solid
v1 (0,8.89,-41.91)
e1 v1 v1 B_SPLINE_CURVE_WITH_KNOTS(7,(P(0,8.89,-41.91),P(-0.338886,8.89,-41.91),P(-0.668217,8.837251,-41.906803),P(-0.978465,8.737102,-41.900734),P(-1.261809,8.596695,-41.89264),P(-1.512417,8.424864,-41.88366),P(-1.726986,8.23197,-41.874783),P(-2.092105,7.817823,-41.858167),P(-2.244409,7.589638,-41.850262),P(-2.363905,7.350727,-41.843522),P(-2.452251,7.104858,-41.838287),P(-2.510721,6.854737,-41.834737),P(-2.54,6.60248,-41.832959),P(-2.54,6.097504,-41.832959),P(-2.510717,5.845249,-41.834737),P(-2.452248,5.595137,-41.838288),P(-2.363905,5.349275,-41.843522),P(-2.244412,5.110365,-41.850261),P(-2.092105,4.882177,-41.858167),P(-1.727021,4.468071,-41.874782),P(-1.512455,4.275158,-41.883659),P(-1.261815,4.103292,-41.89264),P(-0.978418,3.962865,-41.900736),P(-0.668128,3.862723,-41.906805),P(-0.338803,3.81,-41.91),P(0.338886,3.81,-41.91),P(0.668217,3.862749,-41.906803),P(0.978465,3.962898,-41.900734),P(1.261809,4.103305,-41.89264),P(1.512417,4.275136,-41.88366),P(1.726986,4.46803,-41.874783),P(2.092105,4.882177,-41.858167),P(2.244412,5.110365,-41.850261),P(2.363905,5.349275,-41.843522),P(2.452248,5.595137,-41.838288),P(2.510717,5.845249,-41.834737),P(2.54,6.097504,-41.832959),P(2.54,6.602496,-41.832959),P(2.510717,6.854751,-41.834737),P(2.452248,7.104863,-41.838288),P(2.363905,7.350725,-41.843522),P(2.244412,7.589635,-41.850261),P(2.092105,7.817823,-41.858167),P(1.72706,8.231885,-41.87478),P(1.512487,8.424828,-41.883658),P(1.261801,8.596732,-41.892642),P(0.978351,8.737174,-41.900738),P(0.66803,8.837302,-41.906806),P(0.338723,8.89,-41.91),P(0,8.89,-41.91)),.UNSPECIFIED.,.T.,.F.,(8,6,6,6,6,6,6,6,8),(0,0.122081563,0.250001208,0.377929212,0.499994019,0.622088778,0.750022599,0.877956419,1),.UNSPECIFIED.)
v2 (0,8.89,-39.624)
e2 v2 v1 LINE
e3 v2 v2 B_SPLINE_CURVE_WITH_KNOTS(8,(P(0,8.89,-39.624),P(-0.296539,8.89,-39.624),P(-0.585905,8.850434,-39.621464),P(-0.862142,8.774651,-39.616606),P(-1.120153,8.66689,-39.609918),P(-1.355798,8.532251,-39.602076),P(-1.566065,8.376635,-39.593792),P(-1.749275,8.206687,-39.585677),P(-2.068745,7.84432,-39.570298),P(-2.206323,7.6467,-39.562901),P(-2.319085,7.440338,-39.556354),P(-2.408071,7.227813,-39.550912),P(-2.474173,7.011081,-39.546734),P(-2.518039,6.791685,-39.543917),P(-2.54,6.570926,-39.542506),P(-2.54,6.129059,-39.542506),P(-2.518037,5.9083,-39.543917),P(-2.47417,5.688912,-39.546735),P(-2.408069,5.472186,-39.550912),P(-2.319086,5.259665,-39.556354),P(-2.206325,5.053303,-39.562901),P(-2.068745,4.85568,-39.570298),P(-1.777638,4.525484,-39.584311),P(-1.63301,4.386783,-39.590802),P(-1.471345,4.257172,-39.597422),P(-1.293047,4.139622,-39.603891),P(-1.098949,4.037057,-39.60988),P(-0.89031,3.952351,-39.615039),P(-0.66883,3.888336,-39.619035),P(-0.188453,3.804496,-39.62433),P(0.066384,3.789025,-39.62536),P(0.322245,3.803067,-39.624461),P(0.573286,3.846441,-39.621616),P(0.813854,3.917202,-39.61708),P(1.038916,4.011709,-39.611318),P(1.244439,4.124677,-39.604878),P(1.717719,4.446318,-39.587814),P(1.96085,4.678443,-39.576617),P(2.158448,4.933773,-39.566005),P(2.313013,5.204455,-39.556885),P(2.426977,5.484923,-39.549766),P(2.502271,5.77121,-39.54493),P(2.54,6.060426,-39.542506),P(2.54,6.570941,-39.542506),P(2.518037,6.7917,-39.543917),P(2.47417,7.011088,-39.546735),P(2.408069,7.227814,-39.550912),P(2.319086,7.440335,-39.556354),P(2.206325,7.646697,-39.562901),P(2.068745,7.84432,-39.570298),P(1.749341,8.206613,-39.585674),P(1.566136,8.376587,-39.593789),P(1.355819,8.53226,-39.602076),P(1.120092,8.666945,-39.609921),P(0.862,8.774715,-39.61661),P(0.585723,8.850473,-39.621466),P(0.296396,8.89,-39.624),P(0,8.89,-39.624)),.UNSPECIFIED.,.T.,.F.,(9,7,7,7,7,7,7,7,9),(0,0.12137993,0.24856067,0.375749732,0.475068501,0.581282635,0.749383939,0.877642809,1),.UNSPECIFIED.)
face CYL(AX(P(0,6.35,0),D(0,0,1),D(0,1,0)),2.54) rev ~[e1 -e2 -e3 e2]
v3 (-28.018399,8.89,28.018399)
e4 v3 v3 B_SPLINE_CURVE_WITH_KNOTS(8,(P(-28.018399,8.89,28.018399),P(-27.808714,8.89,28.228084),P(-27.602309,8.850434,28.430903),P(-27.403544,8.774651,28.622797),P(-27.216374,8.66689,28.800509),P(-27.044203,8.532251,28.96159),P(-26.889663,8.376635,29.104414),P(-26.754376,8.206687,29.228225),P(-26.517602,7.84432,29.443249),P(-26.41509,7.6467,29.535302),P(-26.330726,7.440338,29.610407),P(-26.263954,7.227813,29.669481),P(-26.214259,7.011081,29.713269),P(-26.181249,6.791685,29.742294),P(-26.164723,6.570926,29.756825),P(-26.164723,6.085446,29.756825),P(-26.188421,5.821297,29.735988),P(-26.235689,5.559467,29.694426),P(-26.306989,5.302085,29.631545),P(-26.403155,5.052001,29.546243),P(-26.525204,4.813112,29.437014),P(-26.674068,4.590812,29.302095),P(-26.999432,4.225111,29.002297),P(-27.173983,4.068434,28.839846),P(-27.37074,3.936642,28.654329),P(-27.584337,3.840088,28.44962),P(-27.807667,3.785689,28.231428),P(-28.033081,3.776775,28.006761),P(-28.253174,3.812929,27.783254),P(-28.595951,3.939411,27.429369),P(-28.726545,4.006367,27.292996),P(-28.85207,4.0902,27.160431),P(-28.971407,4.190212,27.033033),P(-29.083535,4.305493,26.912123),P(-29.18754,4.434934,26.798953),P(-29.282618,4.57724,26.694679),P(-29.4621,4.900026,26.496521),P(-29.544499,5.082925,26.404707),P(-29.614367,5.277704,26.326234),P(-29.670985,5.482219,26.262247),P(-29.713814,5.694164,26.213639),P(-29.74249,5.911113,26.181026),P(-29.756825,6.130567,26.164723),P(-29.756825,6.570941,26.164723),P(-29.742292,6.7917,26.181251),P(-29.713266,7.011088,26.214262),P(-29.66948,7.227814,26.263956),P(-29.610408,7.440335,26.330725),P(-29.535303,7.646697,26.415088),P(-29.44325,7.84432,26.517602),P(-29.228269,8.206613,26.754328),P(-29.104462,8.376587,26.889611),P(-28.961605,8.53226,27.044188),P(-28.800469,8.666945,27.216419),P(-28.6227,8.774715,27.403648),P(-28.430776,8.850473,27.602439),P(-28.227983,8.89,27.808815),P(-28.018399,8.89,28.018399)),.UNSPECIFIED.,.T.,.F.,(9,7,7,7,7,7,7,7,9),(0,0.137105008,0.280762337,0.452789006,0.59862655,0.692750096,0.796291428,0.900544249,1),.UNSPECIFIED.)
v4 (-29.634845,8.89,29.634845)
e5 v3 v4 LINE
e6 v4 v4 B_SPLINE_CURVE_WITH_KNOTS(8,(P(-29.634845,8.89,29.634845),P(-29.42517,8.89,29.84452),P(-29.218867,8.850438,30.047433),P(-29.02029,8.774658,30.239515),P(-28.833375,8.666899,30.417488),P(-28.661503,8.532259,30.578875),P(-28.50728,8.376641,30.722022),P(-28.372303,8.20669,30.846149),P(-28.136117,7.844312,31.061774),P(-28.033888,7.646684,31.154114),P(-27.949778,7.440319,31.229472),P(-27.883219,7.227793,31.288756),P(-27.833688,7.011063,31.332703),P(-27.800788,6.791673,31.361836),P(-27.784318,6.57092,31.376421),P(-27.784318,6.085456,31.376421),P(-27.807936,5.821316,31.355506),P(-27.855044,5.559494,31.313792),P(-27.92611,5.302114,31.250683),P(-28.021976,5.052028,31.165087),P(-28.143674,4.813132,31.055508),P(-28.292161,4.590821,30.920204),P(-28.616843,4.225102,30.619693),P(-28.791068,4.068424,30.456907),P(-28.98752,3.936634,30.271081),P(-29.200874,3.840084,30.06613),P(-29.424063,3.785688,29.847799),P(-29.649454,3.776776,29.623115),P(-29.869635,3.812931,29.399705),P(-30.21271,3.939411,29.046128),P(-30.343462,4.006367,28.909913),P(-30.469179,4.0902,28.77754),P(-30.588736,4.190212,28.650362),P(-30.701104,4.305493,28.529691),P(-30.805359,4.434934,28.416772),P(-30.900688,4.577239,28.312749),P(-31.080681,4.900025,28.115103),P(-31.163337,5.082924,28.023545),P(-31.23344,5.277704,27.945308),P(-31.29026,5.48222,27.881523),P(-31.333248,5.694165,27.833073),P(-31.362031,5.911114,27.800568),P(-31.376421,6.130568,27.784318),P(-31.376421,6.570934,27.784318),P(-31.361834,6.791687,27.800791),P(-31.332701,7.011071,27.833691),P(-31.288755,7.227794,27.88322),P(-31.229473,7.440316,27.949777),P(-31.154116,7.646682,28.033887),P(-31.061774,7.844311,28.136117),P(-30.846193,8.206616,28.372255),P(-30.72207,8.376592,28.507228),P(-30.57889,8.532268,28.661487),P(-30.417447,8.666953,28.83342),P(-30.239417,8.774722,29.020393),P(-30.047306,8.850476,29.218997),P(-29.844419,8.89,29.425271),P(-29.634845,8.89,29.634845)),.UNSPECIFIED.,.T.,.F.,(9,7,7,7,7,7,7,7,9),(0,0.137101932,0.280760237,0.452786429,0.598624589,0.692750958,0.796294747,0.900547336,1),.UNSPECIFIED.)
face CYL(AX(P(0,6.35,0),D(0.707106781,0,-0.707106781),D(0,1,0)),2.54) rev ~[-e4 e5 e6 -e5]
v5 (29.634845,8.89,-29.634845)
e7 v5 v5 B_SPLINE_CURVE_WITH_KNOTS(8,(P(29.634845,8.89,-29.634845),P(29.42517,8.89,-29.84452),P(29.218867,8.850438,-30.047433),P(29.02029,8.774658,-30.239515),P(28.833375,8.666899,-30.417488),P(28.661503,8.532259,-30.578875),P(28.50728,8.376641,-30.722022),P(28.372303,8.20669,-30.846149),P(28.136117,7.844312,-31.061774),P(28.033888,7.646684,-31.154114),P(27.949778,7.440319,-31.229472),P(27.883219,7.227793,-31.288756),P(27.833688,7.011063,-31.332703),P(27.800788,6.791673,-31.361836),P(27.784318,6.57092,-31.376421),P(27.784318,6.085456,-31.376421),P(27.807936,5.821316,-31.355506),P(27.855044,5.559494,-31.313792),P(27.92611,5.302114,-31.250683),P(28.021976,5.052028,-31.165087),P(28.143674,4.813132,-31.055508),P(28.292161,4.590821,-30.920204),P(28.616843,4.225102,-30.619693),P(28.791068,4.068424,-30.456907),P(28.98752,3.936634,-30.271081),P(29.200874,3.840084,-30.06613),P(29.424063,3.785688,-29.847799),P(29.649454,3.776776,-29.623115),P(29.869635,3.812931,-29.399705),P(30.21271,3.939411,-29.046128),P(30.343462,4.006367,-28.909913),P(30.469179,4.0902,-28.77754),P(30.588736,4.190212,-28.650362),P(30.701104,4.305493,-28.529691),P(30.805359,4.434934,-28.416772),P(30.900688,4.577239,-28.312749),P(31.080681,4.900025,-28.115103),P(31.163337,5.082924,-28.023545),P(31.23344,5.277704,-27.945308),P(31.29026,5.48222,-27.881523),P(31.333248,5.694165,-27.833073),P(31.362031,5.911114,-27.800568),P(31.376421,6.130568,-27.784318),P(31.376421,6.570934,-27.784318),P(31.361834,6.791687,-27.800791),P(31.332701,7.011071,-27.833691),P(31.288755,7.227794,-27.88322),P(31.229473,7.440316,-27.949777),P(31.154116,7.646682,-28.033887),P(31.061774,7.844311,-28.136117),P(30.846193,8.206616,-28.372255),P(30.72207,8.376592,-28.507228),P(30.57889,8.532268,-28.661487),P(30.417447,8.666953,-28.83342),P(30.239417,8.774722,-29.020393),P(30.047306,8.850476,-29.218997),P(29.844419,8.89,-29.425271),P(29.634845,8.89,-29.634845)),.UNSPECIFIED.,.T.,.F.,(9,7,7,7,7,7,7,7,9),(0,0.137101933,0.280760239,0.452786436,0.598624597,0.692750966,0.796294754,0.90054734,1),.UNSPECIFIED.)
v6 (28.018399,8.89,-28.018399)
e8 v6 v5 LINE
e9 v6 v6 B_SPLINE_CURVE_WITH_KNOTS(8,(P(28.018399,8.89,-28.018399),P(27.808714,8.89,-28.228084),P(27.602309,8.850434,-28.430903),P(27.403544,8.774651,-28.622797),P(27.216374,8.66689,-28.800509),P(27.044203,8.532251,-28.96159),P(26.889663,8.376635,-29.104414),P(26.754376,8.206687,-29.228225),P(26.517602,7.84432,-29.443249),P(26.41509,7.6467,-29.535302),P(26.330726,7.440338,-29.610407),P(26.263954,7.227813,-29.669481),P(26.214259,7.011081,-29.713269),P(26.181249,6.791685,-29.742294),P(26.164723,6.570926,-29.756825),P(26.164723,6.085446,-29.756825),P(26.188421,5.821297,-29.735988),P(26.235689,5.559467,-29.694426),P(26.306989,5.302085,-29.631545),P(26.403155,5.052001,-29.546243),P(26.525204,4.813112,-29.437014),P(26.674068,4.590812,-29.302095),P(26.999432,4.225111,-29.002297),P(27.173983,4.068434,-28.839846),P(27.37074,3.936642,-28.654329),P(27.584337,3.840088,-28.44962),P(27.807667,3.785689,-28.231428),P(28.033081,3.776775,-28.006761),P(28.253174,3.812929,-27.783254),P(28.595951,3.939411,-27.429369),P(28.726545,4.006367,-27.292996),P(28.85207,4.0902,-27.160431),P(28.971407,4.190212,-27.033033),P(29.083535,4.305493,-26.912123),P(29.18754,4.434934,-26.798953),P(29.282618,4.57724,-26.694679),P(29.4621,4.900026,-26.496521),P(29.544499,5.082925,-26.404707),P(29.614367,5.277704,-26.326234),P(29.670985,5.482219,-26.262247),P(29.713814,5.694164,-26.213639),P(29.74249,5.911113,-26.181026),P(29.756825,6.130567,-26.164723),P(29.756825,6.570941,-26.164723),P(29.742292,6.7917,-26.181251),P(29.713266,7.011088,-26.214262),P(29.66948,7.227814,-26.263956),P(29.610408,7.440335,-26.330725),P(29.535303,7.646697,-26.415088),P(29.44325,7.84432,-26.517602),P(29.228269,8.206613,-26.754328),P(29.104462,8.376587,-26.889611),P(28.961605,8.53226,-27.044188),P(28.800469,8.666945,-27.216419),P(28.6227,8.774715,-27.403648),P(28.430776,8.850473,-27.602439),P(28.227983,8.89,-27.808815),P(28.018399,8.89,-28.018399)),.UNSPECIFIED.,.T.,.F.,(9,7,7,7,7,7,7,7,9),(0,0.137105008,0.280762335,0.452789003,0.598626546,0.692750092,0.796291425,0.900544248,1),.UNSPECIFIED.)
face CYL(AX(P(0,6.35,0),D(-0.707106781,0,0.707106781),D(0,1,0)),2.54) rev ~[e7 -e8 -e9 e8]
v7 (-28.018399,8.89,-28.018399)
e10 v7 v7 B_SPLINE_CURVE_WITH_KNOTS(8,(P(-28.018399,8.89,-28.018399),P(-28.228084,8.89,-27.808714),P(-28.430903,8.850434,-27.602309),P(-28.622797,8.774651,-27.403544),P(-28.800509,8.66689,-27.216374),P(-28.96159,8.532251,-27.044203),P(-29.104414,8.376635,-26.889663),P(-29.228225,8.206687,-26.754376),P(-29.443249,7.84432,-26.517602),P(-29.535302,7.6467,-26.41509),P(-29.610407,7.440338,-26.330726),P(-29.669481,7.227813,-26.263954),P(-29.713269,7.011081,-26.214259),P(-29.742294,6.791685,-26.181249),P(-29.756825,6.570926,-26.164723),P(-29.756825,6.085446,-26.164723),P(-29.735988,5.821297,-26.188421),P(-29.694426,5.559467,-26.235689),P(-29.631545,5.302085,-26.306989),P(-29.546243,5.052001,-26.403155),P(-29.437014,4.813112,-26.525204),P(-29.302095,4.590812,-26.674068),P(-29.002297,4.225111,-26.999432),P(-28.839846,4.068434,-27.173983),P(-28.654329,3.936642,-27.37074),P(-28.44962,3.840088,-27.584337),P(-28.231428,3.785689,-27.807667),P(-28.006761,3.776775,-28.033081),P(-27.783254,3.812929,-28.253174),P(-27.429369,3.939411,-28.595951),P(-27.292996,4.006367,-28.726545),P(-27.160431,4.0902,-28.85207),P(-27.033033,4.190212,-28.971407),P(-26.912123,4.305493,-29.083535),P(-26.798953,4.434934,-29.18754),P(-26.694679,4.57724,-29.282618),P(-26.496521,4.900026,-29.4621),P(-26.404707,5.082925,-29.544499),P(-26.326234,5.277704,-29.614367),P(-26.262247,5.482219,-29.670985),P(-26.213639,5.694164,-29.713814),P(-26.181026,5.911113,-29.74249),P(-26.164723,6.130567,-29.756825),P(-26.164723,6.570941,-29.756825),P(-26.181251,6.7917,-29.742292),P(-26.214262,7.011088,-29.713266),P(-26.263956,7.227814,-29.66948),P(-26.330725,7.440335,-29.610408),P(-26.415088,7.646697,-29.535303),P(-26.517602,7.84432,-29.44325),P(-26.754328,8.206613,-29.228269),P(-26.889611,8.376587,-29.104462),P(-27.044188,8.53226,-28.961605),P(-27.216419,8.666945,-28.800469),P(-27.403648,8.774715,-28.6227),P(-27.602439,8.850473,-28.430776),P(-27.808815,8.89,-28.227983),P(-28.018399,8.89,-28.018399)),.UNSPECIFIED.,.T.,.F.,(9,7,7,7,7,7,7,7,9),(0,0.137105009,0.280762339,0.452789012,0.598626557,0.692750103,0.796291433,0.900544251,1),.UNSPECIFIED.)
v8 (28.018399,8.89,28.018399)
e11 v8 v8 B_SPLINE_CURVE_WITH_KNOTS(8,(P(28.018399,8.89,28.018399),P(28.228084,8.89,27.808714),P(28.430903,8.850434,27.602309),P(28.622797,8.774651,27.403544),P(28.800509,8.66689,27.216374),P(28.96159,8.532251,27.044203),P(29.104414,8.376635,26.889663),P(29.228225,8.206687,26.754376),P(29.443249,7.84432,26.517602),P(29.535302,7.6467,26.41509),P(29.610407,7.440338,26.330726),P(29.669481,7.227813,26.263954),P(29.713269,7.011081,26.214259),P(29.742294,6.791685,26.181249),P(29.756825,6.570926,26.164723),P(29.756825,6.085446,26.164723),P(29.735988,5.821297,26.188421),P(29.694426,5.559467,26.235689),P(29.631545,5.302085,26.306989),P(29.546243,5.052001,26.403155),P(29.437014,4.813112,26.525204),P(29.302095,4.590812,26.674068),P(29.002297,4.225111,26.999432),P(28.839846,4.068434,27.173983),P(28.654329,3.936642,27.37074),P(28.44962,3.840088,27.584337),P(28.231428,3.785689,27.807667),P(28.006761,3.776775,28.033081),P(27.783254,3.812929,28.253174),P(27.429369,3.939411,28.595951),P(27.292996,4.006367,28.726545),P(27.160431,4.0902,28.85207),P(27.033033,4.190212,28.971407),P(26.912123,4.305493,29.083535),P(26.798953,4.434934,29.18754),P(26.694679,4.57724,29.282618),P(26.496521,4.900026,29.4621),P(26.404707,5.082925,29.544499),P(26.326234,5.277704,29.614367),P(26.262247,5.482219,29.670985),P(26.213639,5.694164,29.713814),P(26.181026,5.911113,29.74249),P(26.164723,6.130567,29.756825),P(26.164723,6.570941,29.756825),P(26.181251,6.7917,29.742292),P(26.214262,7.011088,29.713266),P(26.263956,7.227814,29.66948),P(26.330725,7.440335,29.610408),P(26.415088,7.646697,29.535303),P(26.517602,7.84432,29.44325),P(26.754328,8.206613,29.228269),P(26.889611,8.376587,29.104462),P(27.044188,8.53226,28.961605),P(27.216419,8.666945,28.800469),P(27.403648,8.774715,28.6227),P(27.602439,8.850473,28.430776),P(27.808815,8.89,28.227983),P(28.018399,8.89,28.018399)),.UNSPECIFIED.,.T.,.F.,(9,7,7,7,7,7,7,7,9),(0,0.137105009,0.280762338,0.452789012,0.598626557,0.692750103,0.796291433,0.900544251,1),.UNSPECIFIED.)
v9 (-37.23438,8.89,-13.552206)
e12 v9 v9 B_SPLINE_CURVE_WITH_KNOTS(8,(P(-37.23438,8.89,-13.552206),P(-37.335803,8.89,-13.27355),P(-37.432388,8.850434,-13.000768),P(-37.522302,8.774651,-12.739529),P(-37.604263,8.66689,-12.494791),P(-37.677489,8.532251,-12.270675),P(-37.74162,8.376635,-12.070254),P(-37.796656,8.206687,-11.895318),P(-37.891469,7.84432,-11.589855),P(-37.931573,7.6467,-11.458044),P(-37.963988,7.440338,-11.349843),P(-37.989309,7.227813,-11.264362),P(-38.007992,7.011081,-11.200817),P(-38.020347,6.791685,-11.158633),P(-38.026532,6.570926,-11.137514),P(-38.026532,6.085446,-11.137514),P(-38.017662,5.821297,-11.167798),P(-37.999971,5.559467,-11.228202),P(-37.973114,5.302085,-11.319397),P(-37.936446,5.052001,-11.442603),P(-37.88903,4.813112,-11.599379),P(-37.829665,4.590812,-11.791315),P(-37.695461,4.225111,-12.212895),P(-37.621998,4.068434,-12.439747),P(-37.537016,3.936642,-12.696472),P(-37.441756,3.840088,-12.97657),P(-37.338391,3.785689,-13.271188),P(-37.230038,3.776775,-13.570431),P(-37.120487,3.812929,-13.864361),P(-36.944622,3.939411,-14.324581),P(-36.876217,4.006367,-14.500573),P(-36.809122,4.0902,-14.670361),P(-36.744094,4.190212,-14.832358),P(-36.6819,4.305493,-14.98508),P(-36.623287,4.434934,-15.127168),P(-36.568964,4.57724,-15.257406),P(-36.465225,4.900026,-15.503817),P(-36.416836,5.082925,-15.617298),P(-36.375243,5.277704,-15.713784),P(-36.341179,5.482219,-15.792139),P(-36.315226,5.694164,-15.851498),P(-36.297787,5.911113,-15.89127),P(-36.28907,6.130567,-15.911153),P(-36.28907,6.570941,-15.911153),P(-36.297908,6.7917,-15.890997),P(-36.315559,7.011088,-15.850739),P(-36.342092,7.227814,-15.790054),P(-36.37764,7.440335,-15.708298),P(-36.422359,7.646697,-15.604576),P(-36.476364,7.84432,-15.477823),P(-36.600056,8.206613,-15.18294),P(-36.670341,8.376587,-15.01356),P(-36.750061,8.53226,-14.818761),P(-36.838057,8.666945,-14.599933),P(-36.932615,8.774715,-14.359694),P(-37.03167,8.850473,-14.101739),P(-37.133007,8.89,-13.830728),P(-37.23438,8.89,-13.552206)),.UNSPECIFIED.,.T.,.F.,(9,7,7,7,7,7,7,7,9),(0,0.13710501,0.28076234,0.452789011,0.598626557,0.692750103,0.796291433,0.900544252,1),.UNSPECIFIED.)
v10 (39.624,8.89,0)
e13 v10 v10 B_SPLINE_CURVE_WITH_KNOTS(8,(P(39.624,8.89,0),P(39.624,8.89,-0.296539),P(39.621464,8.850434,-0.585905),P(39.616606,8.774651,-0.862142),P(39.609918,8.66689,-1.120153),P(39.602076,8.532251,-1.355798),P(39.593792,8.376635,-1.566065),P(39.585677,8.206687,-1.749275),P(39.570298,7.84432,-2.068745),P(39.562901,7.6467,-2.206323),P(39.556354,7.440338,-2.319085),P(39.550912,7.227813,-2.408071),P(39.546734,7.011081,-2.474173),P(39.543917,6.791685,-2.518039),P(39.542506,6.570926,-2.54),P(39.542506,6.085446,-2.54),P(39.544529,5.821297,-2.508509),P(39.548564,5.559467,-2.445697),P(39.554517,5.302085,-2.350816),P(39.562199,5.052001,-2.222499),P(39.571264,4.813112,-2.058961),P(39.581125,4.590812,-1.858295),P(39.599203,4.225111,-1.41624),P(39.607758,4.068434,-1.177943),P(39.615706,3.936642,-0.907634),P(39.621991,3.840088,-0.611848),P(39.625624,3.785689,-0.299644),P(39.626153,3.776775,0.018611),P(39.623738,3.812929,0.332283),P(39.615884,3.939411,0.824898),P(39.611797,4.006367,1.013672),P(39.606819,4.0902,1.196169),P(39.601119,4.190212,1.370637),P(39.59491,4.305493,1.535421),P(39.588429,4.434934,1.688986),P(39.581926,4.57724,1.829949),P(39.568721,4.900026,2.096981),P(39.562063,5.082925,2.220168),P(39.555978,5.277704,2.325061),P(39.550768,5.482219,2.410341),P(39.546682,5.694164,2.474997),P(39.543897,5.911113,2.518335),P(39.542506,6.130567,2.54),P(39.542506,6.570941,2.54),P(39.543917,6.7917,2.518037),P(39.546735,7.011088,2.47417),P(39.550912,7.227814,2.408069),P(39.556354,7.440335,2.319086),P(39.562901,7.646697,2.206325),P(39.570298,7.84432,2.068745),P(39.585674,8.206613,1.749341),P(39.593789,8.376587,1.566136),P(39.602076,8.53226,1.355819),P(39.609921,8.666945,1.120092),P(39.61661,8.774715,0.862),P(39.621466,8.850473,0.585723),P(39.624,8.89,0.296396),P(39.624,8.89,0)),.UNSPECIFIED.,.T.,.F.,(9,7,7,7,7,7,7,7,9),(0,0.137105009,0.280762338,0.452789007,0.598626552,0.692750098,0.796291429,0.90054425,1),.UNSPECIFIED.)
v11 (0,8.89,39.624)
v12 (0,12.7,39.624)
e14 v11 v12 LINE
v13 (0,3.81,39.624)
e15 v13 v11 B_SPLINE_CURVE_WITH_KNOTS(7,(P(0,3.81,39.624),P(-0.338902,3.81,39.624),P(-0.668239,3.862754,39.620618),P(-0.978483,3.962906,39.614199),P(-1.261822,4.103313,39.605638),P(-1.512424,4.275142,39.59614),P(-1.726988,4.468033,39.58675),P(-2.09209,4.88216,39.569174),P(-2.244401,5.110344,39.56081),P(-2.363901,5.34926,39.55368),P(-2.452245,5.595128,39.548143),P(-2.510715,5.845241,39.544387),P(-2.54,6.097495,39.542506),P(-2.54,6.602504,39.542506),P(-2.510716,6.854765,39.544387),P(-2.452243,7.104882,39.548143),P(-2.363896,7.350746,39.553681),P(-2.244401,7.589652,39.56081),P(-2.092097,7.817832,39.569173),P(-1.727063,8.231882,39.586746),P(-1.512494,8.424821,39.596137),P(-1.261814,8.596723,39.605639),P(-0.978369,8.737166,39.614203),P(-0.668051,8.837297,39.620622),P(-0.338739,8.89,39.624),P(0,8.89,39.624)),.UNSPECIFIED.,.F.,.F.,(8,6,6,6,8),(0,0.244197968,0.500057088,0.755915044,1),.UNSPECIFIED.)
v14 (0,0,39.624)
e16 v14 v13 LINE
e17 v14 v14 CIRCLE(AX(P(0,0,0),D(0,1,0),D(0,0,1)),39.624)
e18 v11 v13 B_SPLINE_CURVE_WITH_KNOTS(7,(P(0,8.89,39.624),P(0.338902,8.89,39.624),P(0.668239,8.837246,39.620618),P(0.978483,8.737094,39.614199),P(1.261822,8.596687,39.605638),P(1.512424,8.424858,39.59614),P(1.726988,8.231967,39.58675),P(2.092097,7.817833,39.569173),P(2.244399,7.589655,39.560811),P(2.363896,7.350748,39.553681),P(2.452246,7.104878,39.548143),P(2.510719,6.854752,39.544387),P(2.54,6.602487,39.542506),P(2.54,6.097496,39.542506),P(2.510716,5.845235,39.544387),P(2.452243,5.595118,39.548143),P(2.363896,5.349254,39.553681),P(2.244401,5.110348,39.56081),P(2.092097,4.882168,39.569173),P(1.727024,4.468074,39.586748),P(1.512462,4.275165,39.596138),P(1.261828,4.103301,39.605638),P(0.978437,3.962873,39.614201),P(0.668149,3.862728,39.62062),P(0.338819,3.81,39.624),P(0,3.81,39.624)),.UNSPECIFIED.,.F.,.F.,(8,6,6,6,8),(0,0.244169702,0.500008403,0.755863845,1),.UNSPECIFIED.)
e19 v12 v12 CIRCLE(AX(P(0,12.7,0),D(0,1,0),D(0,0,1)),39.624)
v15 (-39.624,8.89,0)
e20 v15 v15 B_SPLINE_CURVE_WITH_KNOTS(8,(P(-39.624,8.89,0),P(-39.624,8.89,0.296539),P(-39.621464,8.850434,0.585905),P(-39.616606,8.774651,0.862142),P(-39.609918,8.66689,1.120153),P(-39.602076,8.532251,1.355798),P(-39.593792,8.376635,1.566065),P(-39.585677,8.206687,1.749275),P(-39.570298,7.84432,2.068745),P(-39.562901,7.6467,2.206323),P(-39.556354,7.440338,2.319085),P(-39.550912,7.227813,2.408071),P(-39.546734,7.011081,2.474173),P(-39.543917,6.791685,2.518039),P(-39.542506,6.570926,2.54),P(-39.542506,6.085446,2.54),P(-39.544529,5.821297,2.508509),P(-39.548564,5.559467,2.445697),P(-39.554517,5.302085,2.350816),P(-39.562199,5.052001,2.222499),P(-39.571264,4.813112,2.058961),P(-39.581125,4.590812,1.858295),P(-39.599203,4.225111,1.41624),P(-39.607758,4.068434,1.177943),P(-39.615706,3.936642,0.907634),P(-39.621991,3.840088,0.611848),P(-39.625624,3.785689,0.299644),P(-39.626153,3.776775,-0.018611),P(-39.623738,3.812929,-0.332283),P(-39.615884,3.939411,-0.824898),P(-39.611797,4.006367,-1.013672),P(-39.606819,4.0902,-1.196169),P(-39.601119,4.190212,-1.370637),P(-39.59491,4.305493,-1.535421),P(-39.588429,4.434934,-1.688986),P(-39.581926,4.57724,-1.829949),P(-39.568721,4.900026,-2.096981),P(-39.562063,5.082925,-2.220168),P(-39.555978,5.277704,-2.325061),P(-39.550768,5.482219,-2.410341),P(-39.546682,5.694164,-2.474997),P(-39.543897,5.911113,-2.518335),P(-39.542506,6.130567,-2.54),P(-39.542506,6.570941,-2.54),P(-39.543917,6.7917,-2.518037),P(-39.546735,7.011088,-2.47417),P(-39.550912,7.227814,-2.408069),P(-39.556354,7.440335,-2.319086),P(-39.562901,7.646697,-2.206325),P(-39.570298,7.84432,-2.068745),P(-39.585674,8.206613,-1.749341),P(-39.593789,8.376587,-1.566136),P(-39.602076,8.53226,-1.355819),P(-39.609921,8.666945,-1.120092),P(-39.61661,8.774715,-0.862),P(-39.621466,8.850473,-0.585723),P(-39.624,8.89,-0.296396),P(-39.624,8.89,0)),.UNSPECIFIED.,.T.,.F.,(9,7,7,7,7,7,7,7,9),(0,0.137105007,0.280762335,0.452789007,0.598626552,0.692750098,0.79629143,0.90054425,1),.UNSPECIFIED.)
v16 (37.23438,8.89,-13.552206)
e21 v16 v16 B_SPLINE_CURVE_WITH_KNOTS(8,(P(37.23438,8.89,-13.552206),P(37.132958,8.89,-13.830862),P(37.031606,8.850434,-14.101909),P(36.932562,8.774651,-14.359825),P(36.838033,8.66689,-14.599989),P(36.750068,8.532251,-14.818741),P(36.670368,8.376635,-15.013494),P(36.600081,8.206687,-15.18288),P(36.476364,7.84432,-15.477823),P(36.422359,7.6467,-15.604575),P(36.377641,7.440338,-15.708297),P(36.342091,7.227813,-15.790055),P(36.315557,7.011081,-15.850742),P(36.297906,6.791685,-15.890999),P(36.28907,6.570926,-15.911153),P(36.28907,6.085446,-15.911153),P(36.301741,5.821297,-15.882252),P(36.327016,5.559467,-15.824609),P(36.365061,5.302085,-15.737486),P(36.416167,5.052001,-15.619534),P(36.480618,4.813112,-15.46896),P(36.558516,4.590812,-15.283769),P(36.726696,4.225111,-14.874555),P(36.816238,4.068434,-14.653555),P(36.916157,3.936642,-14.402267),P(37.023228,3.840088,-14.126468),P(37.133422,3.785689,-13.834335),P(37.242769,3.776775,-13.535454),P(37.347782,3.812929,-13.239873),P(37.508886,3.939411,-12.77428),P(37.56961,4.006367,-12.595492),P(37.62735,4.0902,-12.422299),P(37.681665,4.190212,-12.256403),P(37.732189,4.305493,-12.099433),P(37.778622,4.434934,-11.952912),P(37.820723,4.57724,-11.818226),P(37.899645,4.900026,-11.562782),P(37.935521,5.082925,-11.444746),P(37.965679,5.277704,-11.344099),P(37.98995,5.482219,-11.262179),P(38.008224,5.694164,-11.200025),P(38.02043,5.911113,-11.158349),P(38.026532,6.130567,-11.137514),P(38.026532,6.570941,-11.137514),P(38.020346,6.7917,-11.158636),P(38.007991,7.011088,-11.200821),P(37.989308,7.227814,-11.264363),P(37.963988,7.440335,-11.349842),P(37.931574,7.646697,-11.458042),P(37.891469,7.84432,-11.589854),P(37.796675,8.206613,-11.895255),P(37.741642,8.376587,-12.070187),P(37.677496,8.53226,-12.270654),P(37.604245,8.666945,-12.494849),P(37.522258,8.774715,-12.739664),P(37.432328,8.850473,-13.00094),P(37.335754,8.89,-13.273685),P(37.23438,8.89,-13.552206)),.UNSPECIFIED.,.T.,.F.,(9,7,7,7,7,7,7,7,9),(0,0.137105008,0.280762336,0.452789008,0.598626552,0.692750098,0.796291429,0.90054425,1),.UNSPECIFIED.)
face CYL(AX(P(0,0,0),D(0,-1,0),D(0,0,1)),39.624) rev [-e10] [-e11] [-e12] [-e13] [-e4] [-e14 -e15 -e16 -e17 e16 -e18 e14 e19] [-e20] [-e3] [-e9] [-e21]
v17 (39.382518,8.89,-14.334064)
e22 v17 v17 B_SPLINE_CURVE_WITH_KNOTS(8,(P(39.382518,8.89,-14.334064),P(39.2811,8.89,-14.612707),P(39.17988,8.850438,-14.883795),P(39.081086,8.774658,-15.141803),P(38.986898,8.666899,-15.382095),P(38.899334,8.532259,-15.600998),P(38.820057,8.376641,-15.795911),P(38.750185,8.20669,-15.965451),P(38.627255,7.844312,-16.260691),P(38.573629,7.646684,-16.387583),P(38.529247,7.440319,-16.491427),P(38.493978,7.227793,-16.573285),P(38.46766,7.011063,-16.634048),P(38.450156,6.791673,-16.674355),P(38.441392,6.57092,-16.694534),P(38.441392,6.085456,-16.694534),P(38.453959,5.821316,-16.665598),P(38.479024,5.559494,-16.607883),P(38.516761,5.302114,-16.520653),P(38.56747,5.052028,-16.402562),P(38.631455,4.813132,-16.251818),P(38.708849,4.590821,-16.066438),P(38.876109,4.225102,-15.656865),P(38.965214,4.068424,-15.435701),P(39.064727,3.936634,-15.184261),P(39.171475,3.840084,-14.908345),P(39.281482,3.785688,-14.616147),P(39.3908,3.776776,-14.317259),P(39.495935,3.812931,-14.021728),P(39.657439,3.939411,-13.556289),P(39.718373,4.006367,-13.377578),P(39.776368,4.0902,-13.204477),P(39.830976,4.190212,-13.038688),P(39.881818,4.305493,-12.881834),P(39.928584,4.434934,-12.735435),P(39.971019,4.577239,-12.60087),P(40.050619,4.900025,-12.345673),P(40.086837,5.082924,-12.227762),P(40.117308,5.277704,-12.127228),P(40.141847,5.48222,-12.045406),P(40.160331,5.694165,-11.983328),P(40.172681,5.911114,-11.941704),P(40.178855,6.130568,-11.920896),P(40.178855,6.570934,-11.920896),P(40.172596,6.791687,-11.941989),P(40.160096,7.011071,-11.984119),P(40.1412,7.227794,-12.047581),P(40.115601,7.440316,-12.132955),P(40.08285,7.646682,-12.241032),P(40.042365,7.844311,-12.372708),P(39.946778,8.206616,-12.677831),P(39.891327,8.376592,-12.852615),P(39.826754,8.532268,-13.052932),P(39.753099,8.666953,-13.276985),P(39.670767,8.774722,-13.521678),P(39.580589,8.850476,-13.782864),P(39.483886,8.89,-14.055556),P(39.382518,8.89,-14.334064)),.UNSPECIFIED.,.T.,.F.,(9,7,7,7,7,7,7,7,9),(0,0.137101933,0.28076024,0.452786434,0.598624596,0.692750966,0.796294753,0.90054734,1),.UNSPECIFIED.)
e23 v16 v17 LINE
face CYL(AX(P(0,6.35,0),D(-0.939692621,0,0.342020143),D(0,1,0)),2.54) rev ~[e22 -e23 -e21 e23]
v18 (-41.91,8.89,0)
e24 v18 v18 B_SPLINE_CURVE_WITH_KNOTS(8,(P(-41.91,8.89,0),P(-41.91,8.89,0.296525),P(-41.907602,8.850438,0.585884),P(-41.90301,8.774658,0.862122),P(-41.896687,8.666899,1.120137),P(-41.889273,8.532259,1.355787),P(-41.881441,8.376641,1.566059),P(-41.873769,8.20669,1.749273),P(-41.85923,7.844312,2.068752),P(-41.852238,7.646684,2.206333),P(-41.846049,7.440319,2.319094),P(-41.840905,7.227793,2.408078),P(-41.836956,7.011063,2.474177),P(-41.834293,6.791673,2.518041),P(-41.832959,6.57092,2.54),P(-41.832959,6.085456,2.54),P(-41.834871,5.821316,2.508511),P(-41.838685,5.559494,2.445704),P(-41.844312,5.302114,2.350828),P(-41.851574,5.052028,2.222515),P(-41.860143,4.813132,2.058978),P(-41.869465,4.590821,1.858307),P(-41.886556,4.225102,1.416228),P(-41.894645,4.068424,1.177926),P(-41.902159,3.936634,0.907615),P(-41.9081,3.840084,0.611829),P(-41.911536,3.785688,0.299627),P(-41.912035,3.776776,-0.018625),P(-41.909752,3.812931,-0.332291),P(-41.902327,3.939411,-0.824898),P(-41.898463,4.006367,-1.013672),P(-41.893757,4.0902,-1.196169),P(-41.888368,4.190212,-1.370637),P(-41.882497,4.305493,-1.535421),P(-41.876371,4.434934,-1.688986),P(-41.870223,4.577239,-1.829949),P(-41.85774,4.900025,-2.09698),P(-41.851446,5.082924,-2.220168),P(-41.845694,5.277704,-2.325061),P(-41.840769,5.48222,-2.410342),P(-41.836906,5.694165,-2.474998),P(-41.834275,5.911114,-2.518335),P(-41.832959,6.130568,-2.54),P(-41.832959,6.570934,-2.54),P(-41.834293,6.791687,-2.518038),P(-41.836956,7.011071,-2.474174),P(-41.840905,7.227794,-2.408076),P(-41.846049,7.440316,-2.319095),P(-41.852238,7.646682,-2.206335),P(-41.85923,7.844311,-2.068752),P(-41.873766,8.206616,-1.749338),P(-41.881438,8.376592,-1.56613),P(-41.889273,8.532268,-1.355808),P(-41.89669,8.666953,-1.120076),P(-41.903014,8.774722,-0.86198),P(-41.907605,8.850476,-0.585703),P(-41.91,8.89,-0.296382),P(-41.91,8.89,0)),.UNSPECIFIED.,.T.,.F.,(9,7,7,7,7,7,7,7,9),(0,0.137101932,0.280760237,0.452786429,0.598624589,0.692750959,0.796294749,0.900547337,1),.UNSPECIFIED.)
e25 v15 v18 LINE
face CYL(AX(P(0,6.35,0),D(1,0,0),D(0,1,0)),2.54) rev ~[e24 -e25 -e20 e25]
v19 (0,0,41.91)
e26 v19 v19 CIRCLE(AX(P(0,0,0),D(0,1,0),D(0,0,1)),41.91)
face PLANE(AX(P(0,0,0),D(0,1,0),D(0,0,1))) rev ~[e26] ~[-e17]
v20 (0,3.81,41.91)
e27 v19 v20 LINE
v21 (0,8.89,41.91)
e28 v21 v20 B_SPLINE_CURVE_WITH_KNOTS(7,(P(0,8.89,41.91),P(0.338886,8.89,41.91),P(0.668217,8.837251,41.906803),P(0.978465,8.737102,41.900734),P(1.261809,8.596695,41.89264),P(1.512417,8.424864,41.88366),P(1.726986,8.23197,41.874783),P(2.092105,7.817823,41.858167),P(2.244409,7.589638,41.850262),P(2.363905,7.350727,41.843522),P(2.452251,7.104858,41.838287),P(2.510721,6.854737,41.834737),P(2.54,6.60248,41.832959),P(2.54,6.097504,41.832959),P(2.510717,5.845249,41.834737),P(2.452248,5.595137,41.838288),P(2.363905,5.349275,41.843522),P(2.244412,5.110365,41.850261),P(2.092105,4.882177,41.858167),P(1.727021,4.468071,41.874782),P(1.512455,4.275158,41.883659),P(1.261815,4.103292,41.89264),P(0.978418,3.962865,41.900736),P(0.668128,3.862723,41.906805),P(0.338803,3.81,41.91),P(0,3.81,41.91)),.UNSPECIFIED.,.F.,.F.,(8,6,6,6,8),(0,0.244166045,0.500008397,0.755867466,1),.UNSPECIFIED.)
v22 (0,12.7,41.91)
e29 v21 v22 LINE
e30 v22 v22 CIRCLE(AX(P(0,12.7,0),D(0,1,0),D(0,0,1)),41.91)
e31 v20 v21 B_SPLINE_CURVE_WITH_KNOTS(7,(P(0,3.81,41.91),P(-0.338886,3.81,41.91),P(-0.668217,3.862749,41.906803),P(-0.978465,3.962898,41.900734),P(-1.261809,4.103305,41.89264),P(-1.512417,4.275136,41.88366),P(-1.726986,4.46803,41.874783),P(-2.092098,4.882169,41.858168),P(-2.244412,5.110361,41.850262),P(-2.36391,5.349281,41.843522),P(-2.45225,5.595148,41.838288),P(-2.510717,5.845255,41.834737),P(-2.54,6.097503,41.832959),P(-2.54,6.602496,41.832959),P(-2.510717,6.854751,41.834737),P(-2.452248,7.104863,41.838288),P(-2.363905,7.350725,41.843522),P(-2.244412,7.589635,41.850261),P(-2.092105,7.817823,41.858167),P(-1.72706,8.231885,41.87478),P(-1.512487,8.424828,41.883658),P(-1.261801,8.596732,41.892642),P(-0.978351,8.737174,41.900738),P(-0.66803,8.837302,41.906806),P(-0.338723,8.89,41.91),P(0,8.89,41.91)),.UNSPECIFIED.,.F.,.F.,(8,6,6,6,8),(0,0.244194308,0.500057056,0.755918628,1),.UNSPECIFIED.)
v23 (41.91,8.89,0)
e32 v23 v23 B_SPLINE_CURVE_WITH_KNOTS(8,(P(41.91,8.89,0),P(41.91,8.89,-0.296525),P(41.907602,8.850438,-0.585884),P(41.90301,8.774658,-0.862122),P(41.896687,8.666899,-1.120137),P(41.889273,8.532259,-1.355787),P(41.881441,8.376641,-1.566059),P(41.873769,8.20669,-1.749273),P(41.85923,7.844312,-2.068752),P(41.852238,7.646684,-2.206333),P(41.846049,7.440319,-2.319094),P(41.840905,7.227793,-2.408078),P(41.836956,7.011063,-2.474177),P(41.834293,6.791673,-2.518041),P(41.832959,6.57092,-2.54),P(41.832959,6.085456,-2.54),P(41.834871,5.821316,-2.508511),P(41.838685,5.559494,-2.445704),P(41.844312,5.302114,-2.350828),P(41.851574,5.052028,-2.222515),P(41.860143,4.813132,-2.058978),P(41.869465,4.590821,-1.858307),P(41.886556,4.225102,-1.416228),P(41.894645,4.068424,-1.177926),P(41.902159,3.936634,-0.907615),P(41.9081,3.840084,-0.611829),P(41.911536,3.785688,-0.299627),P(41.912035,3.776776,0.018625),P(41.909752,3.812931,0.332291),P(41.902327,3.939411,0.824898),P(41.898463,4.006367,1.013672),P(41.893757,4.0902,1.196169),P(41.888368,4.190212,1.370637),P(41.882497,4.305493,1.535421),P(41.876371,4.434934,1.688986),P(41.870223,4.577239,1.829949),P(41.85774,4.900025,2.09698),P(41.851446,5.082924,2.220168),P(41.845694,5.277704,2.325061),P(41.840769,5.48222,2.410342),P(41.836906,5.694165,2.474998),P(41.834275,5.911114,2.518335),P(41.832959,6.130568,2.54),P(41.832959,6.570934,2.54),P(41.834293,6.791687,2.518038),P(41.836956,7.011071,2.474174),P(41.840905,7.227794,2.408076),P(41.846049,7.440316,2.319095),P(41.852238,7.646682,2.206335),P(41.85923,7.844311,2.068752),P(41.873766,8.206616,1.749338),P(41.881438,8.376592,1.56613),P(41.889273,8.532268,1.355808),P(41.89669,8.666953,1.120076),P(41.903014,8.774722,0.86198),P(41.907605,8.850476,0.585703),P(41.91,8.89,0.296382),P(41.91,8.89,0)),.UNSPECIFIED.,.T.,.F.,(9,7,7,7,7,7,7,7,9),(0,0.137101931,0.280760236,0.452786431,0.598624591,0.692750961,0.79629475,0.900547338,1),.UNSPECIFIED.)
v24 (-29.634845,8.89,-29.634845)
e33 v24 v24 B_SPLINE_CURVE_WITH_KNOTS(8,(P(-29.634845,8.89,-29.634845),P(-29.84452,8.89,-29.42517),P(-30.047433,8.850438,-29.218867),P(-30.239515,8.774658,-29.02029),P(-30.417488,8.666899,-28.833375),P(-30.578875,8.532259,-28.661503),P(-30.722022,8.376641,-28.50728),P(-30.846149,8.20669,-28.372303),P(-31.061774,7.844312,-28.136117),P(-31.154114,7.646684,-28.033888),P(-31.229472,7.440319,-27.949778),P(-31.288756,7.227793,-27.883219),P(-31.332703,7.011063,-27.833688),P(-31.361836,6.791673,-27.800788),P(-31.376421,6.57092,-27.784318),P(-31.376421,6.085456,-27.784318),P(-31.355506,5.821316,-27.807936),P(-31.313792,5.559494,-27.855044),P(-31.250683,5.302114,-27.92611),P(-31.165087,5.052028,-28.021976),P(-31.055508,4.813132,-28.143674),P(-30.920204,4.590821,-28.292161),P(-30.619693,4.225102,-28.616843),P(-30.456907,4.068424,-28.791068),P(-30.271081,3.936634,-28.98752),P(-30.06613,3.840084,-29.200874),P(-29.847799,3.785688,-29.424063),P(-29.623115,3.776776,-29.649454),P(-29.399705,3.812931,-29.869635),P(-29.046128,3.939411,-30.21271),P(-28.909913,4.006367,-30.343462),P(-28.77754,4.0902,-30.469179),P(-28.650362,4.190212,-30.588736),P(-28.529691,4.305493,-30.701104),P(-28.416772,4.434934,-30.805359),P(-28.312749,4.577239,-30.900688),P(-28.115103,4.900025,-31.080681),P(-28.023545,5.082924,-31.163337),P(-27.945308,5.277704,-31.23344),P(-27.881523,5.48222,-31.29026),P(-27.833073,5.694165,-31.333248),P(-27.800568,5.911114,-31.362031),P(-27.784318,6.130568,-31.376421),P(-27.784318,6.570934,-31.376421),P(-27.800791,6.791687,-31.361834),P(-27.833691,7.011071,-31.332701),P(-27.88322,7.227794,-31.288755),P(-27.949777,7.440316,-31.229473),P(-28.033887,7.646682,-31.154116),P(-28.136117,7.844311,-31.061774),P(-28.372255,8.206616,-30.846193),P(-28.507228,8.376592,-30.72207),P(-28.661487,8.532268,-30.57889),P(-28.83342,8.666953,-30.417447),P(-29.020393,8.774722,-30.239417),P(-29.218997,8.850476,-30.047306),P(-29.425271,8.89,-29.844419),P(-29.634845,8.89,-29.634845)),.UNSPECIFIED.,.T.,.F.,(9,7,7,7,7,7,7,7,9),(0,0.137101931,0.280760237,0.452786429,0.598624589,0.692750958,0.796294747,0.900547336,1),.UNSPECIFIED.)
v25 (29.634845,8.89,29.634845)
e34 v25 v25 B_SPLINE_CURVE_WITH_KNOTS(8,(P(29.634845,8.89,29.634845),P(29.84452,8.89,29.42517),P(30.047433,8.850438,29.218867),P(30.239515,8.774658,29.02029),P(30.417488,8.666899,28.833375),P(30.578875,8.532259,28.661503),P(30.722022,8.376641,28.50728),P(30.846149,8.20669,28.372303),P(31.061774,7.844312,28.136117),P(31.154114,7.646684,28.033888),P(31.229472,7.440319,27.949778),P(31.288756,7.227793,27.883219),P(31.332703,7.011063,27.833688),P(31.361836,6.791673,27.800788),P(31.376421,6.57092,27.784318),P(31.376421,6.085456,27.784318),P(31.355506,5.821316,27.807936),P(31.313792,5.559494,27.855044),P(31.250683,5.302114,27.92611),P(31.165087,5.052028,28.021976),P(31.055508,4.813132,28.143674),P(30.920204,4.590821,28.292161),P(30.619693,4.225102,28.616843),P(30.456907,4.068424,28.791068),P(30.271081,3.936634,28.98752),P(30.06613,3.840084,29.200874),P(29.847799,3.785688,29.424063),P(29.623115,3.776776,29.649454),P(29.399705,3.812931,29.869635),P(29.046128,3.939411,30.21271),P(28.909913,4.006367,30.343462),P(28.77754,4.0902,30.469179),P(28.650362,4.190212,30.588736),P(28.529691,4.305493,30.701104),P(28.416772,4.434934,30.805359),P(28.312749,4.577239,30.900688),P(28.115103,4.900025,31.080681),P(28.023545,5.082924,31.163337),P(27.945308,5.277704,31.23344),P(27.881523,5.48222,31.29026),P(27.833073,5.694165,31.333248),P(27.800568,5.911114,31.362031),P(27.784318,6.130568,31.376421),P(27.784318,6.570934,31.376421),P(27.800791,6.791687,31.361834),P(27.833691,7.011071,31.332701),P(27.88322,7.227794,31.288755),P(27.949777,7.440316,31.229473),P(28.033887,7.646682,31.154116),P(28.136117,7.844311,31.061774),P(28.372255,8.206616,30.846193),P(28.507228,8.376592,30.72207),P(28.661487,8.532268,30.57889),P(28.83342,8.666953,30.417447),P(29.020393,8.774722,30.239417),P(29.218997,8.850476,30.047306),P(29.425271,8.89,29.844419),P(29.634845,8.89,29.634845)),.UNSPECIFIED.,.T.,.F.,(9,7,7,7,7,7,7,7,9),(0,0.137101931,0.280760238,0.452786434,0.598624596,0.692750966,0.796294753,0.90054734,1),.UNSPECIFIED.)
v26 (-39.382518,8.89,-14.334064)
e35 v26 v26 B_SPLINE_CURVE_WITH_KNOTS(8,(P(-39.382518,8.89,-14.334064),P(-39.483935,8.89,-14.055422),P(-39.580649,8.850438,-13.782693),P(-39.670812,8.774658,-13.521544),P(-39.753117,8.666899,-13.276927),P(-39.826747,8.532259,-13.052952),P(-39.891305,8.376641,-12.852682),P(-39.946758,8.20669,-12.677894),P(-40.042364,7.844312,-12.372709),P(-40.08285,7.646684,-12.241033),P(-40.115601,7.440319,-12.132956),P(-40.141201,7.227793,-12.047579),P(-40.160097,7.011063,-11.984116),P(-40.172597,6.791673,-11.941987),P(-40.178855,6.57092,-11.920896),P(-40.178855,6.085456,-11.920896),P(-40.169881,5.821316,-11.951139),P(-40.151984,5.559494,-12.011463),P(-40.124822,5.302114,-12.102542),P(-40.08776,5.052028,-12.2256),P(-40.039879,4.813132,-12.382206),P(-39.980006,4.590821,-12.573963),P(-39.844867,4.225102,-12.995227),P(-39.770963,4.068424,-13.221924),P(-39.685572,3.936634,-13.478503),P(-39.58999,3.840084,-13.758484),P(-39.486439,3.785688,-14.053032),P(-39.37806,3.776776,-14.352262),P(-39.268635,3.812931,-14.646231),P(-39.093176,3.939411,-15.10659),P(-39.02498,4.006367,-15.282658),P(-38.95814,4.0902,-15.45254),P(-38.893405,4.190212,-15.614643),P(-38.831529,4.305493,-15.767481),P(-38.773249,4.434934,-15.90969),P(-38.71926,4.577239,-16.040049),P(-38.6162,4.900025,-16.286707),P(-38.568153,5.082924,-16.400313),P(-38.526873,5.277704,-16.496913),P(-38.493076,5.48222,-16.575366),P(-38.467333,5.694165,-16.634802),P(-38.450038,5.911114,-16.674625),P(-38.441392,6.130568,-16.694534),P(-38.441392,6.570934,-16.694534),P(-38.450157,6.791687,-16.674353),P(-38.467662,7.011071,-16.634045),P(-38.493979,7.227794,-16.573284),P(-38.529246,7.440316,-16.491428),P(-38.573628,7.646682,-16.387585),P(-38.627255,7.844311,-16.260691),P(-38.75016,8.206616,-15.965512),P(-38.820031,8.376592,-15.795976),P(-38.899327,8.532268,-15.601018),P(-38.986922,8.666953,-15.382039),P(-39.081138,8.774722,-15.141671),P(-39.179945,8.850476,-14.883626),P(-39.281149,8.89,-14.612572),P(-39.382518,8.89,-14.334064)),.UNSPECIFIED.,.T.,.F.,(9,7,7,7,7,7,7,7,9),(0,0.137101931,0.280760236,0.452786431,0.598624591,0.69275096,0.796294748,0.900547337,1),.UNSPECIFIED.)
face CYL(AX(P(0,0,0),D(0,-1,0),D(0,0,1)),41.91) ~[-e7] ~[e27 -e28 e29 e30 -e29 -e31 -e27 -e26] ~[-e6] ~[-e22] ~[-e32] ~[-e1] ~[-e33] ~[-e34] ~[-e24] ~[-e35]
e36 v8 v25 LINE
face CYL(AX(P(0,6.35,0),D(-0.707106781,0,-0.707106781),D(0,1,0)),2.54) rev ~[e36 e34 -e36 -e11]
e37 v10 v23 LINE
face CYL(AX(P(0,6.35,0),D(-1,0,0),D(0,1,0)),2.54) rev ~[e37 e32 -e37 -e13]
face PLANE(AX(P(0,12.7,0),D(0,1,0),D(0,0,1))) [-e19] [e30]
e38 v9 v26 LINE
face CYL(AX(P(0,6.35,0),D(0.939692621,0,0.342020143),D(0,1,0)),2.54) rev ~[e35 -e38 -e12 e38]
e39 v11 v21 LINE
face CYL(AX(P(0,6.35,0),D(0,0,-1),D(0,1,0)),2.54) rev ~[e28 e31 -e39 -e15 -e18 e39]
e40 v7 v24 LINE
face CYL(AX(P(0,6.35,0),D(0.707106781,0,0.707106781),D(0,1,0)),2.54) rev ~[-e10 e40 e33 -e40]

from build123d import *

# Parameters (mm, degrees)
SKETCH1_R                       = 41.91
SKETCH1_R_2                     = 39.624
BOSS_EXTRUDE2_DEPTH             = 12.7
SKETCH2_R                       = 2.54
CUT_EXTRUDE1_DEPTH              = 56.7
CIRPATTERN1_COUNT               = 8
CIRPATTERN2_COUNT               = 2
CIRPATTERN2_ANGLE               = 70
CIRPATTERN2_THE_OTHER_WAY_COUNT = 2
CIRPATTERN2_THE_OTHER_WAY_ANGLE = 70


with BuildPart() as part:
    # Sketch1 → Boss-Extrude2 (new body)
    with BuildSketch(Plane(origin=(0, 0, 0), x_dir=(1, 0, 0), z_dir=(0, 1, 0))):
        with Locations(Location((0, 0, 0), (0, 0, 270))):
            Circle(SKETCH1_R)
        with Locations(Location((0, 0, 0), (0, 0, 270))):
            Circle(SKETCH1_R_2, mode=Mode.SUBTRACT)
    extrude(amount=BOSS_EXTRUDE2_DEPTH)

    # Sketch2 → Cut-Extrude1 (cut)
    with BuildSketch(Plane.XY):
        with Locations(Location((0, 6.35, 0), (0, 0, 90))):
            Circle(SKETCH2_R)
    cut_extrude1 = extrude(amount=-CUT_EXTRUDE1_DEPTH, mode=Mode.SUBTRACT)

    # CirPattern1: Cut-Extrude1 ×8 about axis
    cirpattern1_axis = Axis((0, 12.7, 0), (0, 1, 0))
    for i in range(1, CIRPATTERN1_COUNT):
        add(cut_extrude1.rotate(cirpattern1_axis, i * 360 / CIRPATTERN1_COUNT), mode=Mode.SUBTRACT)

    # CirPattern2: Cut-Extrude1 ×2 about axis
    cirpattern2_axis = Axis((0, 12.7, 0), (0, 1, 0))
    for i in range(1, CIRPATTERN2_COUNT):
        add(cut_extrude1.rotate(cirpattern2_axis, i * CIRPATTERN2_ANGLE / (CIRPATTERN2_COUNT - 1)), mode=Mode.SUBTRACT)

    # CirPattern2 the other way: Cut-Extrude1 ×2 about axis
    cirpattern2_the_other_way_axis = Axis((0, 12.7, 0), (0, -1, 0))
    for i in range(1, CIRPATTERN2_THE_OTHER_WAY_COUNT):
        add(cut_extrude1.rotate(cirpattern2_the_other_way_axis, i * CIRPATTERN2_THE_OTHER_WAY_ANGLE / (CIRPATTERN2_THE_OTHER_WAY_COUNT - 1)), mode=Mode.SUBTRACT)


solid = part.part
